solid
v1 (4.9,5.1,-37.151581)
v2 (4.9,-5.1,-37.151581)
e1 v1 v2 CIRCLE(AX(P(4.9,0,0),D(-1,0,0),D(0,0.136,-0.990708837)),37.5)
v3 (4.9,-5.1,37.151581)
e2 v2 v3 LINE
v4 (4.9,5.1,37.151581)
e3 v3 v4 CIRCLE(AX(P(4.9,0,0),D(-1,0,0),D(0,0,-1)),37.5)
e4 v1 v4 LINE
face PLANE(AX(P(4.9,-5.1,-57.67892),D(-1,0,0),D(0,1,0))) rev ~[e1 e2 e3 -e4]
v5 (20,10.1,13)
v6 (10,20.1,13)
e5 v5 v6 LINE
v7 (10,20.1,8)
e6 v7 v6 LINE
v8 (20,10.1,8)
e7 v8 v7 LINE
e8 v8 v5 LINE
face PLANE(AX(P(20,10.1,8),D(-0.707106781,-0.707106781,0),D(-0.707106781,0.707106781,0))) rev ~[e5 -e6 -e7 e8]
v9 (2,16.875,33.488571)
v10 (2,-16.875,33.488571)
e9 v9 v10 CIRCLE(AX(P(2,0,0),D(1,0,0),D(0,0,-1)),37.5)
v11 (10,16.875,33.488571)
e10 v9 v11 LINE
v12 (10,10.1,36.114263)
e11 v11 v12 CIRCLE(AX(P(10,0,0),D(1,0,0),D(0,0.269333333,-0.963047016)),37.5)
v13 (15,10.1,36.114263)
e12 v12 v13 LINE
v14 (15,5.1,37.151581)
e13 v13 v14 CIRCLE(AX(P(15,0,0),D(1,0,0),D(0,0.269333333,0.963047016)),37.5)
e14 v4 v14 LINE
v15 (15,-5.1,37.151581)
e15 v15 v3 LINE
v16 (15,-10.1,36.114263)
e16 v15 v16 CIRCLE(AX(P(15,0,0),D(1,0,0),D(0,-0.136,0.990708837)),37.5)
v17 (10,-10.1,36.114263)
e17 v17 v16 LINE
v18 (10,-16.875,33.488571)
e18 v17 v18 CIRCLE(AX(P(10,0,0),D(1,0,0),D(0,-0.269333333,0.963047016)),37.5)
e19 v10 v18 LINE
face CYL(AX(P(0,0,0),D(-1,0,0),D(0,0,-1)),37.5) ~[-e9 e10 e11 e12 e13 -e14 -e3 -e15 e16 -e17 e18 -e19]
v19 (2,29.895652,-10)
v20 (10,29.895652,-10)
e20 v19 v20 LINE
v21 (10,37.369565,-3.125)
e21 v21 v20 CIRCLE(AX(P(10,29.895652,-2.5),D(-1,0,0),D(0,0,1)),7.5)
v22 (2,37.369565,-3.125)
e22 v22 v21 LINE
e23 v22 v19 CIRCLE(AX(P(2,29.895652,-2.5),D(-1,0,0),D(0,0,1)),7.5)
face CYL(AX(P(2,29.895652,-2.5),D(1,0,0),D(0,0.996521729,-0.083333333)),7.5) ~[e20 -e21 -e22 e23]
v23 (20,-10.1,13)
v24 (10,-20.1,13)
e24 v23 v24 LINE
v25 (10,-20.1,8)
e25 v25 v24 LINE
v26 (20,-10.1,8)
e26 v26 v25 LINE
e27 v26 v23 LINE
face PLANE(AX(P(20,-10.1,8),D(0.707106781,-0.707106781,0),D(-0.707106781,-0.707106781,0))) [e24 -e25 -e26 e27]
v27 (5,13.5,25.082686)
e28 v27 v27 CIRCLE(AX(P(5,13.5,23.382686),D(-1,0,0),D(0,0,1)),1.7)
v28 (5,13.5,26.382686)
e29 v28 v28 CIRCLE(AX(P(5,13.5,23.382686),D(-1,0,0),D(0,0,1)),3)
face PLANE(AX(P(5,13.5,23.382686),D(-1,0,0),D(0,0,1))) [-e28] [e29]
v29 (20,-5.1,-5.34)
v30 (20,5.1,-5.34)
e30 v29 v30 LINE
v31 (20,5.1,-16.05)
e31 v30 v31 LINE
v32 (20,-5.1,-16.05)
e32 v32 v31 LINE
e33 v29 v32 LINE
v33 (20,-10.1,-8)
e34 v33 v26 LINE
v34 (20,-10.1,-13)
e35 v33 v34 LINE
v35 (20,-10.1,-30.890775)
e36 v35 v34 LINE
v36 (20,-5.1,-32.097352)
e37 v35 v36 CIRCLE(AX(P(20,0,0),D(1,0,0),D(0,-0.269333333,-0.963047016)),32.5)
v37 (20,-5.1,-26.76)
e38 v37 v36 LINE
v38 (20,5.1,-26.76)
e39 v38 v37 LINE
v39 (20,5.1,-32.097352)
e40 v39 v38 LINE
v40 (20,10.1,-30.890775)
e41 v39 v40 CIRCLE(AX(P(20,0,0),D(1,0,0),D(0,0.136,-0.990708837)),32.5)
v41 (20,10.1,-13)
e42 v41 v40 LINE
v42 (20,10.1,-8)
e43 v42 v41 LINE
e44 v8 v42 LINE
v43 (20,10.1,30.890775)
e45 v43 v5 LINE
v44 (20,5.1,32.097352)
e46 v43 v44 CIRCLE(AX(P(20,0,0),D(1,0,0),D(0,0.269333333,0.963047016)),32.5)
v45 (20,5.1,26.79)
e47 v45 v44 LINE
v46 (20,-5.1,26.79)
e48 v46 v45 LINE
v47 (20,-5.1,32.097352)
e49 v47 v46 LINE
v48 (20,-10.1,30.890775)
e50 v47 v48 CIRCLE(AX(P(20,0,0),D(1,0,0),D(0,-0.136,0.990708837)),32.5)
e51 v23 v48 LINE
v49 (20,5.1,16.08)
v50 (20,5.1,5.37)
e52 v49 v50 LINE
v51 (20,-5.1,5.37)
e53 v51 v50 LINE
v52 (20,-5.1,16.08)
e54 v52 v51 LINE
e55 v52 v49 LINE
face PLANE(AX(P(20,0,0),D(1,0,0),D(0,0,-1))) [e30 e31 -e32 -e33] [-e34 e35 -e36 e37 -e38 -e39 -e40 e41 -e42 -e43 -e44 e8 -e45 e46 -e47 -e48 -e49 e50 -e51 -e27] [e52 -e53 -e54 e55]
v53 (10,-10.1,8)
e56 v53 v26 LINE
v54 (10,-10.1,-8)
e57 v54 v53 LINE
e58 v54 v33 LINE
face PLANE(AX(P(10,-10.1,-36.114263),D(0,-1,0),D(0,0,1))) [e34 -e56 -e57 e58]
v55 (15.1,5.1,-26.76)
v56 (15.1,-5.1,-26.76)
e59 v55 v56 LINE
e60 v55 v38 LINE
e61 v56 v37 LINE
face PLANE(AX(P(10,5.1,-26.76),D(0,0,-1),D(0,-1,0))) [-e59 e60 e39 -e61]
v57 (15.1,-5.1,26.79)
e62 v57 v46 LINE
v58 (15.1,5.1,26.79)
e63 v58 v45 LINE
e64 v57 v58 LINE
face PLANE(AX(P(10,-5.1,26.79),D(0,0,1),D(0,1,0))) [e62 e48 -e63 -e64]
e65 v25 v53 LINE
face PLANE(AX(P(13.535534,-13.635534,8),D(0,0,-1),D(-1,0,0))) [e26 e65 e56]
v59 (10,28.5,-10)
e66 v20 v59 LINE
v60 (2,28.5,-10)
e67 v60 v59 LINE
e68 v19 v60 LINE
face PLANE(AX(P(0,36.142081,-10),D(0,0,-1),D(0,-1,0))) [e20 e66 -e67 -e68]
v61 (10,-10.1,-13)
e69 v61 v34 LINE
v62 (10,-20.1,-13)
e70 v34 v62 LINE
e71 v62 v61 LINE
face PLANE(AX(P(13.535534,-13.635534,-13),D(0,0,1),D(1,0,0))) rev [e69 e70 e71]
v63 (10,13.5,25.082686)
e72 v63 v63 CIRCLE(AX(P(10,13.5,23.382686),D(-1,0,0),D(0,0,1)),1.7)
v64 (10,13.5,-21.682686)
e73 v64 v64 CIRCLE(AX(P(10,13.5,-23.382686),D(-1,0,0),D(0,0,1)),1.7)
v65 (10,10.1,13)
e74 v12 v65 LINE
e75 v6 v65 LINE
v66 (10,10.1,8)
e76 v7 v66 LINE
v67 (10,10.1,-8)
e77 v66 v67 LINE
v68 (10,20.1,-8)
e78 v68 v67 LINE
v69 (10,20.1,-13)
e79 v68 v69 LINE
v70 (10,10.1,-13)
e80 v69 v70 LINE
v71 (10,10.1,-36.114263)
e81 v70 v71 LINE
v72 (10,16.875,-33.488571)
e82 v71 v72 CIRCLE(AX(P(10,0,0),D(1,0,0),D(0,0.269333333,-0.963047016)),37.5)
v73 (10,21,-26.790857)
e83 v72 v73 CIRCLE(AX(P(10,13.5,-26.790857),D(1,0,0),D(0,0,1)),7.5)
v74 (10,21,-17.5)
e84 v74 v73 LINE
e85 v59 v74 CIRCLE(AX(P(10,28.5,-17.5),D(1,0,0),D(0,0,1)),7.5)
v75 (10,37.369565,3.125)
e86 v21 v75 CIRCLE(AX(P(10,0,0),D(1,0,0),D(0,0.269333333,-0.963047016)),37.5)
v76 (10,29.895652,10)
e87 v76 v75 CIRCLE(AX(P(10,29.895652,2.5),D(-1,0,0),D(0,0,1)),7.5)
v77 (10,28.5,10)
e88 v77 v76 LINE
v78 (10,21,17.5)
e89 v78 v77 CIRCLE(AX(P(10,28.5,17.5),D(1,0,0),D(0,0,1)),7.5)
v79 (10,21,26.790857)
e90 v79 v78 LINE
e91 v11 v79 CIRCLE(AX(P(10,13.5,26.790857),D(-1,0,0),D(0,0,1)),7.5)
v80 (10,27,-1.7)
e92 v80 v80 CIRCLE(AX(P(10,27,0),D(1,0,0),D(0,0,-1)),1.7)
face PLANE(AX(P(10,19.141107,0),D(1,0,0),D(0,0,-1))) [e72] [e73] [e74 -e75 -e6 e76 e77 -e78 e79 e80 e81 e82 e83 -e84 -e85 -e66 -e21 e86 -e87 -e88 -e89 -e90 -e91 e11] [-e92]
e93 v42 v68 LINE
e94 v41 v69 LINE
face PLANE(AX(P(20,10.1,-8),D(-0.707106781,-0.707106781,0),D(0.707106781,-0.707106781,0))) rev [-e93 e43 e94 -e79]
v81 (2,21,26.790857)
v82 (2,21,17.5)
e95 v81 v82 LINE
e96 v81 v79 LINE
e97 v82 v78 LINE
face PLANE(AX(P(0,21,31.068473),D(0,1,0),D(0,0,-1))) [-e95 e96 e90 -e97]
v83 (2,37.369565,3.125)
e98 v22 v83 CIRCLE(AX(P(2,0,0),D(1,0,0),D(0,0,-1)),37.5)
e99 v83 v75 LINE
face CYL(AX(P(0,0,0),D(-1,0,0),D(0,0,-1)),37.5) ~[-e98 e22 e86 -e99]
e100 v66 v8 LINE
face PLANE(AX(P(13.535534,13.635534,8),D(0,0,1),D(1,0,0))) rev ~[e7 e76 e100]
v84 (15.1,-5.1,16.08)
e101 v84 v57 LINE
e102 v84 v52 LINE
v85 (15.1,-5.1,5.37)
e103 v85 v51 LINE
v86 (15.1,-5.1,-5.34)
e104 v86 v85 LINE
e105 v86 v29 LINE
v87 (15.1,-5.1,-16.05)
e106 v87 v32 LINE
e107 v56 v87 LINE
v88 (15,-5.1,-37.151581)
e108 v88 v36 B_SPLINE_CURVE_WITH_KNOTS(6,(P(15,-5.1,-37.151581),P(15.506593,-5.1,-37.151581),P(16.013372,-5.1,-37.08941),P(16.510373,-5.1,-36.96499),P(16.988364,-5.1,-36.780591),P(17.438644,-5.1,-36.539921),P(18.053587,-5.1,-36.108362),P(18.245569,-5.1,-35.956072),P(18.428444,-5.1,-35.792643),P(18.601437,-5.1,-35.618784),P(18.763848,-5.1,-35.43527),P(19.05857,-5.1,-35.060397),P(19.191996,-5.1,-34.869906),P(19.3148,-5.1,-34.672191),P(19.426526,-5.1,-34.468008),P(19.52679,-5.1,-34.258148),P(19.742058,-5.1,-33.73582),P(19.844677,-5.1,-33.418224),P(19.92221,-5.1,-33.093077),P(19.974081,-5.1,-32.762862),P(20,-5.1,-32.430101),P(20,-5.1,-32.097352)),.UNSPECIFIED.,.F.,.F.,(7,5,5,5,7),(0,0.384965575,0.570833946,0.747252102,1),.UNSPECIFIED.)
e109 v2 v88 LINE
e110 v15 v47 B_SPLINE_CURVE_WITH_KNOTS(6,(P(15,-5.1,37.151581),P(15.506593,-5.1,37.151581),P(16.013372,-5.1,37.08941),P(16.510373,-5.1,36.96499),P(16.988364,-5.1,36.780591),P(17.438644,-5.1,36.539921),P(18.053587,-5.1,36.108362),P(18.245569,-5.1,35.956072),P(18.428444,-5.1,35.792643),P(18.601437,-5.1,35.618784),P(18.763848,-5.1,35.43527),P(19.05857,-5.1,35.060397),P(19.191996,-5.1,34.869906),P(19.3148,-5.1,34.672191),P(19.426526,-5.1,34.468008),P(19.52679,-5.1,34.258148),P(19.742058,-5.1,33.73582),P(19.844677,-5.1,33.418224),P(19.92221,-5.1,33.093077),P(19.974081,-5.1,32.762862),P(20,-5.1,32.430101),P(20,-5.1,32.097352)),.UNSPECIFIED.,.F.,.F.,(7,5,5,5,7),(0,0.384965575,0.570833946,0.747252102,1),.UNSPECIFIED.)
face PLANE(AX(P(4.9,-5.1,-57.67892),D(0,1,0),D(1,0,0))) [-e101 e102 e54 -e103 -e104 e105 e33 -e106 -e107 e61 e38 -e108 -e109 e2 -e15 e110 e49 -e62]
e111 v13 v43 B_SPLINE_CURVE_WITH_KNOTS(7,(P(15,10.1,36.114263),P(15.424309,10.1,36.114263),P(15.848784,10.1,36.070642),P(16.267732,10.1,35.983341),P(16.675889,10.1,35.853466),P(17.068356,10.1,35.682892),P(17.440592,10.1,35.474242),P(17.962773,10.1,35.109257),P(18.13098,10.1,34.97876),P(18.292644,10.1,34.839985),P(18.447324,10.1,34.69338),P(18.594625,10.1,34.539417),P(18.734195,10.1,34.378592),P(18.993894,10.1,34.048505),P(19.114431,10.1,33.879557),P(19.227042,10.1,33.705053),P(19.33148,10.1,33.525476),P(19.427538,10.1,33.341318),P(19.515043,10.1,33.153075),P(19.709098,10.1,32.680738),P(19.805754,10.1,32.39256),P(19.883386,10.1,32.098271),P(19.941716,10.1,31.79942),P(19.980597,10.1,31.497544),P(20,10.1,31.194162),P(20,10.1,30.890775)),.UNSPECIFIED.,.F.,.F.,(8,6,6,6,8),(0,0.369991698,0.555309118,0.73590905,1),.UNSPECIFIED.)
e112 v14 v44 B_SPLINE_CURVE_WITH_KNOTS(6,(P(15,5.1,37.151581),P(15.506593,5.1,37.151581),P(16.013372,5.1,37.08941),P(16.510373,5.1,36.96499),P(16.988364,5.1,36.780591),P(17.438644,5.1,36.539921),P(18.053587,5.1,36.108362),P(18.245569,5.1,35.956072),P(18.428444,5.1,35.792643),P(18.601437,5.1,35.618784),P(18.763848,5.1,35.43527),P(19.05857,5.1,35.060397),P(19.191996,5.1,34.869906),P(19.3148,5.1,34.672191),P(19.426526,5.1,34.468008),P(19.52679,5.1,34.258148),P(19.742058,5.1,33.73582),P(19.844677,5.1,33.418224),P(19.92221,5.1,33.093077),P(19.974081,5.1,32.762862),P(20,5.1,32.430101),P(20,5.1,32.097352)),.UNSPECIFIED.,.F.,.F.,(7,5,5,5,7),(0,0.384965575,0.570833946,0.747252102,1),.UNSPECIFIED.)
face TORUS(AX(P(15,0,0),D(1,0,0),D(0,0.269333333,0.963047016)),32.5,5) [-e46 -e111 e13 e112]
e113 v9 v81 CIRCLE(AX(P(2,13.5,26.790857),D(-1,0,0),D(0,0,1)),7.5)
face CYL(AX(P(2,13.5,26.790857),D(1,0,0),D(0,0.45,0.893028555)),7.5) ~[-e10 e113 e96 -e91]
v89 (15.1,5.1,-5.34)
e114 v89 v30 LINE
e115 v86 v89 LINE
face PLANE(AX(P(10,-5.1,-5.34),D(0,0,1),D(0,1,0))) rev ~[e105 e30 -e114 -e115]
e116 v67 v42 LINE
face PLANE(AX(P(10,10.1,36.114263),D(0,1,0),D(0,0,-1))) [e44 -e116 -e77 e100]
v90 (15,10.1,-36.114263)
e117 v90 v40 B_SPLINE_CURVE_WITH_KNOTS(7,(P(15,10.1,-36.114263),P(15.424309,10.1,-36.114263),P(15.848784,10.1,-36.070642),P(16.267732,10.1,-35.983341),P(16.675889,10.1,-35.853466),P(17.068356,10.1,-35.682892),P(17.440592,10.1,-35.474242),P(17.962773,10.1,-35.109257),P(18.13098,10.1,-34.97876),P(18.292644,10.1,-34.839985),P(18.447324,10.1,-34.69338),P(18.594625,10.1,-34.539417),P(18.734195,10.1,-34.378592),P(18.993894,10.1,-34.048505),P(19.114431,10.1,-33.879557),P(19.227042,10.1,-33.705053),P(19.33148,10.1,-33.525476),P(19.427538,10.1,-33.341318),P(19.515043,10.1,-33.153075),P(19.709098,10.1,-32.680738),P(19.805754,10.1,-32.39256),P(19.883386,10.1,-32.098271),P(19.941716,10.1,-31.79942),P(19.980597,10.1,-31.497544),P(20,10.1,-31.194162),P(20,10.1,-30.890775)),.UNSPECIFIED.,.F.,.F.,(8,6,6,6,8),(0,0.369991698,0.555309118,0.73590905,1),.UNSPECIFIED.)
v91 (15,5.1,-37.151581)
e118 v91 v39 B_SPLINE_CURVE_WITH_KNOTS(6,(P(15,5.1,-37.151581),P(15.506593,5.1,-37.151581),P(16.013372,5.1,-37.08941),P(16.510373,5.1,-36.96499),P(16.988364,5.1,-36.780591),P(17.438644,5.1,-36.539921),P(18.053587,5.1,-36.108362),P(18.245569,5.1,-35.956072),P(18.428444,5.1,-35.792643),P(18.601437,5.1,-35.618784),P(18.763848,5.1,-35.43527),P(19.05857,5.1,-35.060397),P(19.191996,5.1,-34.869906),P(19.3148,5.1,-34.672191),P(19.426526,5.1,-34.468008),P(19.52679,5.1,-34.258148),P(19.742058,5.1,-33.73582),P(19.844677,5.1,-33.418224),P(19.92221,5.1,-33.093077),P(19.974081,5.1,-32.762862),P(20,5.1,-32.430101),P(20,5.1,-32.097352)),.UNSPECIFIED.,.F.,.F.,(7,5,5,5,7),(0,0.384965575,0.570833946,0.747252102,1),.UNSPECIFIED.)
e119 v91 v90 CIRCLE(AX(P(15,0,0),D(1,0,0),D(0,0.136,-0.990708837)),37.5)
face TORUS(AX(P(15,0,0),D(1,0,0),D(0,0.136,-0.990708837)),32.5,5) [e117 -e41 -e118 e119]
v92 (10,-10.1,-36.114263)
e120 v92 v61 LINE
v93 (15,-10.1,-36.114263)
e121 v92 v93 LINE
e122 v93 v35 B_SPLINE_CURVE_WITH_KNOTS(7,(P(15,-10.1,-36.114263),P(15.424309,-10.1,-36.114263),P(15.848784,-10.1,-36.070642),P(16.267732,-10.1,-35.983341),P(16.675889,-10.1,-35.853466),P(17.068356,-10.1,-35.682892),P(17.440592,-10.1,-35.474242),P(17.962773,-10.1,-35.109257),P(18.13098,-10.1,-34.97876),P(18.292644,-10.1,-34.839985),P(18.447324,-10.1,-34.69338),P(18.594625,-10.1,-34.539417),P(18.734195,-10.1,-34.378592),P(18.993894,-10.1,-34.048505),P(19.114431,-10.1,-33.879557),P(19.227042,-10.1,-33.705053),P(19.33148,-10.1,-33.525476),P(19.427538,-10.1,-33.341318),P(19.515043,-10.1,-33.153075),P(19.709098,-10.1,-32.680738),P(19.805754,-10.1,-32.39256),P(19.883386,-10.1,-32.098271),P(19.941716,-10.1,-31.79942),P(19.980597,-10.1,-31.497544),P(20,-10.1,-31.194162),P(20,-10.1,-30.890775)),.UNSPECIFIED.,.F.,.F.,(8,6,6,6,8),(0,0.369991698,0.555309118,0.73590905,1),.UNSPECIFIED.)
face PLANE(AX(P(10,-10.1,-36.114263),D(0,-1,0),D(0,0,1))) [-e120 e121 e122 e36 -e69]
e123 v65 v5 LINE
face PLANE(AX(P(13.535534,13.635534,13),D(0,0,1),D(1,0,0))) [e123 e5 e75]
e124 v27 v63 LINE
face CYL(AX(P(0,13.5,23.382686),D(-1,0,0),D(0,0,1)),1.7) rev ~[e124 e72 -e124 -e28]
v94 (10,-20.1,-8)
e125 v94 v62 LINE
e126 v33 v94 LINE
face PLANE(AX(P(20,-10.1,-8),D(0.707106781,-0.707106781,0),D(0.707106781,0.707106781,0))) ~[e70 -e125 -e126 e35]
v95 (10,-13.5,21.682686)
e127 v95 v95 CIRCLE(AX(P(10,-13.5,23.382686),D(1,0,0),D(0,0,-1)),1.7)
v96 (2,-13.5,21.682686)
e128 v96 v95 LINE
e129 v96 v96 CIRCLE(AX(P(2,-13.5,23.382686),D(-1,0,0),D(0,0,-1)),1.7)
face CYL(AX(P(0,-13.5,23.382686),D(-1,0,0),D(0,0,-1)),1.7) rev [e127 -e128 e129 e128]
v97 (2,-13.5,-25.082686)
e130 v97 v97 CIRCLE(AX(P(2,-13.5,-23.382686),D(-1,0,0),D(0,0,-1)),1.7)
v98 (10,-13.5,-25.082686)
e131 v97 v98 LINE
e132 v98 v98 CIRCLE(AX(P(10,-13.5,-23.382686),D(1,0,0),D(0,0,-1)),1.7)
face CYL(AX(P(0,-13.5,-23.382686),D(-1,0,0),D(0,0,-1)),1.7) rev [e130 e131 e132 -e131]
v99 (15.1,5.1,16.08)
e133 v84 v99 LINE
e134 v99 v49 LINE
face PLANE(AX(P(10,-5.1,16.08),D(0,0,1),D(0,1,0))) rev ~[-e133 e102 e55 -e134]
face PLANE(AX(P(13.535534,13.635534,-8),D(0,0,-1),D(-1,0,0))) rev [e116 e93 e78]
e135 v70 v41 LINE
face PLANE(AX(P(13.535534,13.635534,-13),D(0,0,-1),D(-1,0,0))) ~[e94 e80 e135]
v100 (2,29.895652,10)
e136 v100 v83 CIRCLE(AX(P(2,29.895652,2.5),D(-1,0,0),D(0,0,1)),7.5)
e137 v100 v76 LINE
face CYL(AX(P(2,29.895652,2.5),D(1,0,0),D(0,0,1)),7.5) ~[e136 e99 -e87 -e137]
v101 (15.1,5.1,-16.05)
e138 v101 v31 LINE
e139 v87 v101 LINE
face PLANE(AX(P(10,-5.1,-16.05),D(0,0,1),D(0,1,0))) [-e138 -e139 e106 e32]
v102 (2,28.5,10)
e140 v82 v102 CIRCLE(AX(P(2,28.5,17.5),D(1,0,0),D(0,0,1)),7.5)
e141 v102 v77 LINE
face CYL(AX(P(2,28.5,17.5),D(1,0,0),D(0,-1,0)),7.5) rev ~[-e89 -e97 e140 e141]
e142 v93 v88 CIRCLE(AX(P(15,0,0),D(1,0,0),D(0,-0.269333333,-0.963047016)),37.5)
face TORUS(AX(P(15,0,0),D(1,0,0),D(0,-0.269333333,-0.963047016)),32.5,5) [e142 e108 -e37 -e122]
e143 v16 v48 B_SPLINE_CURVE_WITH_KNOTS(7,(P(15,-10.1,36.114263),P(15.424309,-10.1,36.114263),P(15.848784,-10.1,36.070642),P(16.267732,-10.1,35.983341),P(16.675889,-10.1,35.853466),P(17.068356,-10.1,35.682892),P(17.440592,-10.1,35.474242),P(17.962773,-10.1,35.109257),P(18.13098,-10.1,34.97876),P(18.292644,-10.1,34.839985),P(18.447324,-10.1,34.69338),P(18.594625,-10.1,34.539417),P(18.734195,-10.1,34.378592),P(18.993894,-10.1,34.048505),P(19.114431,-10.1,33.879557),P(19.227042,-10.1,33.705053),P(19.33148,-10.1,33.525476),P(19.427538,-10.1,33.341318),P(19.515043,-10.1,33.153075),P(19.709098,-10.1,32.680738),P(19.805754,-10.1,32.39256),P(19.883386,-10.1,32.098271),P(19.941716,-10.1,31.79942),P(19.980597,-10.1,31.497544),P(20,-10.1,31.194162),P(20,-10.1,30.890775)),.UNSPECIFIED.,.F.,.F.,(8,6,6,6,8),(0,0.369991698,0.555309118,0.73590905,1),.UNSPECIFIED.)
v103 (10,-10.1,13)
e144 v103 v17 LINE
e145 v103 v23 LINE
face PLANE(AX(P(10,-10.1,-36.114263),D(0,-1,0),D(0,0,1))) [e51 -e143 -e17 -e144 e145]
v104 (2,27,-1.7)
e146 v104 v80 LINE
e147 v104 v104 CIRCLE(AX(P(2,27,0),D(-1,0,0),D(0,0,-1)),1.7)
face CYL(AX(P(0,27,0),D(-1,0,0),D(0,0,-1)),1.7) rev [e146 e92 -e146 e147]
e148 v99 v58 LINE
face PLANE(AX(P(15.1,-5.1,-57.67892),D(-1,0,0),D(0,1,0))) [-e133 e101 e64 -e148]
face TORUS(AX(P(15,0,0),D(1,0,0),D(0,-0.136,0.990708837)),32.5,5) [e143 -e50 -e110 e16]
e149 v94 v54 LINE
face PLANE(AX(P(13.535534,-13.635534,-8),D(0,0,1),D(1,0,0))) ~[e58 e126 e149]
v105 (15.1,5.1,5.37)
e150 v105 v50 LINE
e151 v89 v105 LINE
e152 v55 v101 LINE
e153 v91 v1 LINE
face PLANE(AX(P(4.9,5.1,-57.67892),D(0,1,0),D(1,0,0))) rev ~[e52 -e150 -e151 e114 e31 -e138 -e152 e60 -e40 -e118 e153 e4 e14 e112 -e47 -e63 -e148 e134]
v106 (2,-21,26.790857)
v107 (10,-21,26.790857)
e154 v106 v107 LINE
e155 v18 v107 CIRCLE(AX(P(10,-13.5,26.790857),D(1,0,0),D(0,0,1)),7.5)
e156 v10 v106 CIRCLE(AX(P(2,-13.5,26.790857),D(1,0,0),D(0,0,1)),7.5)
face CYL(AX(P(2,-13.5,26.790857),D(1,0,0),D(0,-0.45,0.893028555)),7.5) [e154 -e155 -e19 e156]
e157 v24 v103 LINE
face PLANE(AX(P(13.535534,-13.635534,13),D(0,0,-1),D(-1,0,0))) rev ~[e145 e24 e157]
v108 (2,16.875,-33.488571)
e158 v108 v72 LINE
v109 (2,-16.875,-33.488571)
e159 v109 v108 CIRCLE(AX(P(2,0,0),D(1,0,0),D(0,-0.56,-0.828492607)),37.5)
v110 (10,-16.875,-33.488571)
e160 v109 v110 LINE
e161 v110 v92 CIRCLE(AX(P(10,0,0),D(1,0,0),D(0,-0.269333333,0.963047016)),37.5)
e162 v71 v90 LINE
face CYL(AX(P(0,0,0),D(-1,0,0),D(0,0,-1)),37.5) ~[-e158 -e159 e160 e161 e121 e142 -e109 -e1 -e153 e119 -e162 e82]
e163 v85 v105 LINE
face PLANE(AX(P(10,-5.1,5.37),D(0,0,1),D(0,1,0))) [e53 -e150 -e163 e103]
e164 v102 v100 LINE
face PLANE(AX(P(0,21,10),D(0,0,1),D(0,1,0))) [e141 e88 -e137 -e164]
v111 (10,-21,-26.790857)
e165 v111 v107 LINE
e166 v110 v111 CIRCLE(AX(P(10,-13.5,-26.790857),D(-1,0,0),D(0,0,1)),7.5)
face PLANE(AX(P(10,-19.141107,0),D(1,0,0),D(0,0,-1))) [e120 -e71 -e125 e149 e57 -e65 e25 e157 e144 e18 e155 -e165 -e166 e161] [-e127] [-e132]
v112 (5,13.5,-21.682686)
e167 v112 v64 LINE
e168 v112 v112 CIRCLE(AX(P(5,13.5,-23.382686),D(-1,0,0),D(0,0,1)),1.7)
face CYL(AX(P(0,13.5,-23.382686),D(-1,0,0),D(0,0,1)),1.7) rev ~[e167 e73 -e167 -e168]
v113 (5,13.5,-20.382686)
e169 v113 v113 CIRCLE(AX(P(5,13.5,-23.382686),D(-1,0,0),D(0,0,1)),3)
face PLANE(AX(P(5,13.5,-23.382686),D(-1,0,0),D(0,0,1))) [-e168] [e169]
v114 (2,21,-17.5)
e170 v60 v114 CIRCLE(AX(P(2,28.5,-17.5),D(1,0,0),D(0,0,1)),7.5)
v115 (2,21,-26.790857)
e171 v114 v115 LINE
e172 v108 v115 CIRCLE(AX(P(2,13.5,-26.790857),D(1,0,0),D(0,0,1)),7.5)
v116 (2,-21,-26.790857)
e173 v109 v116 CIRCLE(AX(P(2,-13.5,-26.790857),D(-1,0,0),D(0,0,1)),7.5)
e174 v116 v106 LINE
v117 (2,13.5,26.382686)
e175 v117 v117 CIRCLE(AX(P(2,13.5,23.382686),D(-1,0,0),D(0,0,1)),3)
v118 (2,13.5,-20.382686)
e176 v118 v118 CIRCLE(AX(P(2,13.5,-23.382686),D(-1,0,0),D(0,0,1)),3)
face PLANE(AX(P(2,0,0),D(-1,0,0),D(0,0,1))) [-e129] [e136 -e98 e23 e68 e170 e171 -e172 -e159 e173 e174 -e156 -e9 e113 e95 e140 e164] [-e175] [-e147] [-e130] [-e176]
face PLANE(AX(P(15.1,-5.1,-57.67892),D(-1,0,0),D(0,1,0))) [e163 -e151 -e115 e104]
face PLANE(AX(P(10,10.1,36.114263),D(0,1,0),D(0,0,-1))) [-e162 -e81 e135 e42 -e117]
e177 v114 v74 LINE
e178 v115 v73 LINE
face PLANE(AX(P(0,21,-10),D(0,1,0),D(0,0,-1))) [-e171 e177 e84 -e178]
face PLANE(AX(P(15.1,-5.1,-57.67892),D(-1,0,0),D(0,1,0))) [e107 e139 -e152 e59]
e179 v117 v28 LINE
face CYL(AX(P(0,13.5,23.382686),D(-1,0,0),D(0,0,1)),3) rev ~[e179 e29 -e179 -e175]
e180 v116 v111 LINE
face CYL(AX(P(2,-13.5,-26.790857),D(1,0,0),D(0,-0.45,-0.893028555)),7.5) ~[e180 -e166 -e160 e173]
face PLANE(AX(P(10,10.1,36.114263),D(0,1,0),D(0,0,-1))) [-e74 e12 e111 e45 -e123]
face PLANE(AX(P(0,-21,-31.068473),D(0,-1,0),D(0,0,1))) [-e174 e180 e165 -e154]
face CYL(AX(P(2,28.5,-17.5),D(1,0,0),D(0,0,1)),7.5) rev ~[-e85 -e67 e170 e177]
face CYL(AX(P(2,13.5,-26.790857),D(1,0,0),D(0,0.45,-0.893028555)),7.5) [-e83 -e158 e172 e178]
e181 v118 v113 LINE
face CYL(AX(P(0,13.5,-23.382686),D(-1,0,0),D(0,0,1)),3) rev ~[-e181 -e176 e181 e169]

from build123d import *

# Parameters (mm, degrees)
SKETCH1_R               = 37.5
SKETCH1_R_2             = 1.7
BOSS_EXTRUDE1_DEPTH     = 20
CUT_EXTRUDE1_DEPTH      = 57.678920244
CUT_EXTRUDE1_DEPTH_BACK = 57.678920244
SKETCH2_W               = 10.2
SKETCH2_H               = 10.2
CUT_EXTRUDE2_START      = -10
SKETCH3_R               = 1.7
CUT_EXTRUDE2_DEPTH      = 10
CUT_EXTRUDE4_START      = -10
SKETCH4_W               = 10.71
SKETCH4_H               = 10.2
CUT_EXTRUDE4_DEPTH      = 10
BOSS_EXTRUDE2_START     = 8
BOSS_EXTRUDE2_DEPTH     = 5
SKETCH7_R               = 3
CUT_EXTRUDE5_DEPTH      = 5
SKETCH8_R               = 1.7
CUT_EXTRUDE6_DEPTH      = 15
FILLET1_R               = 5
SKETCH9_R               = 37.5
CUT_EXTRUDE7_DEPTH      = 2
CUT_EXTRUDE8_START      = -10
CUT_EXTRUDE8_DEPTH      = 10
FILLET3_R               = 7.5


with BuildPart() as part:
    # Sketch1 → Boss-Extrude1 (new body)
    with BuildSketch(Plane(origin=(0, 0, 0), x_dir=(0, 0, -1), z_dir=(1, 0, 0))):
        Circle(SKETCH1_R)
        with Locations((0, 27)):
            Circle(SKETCH1_R_2, mode=Mode.SUBTRACT)
        with Locations((23.382685902, -13.5)):
            Circle(SKETCH1_R_2, mode=Mode.SUBTRACT)
        with Locations((-23.382685902, -13.5)):
            Circle(SKETCH1_R_2, mode=Mode.SUBTRACT)
    extrude(amount=BOSS_EXTRUDE1_DEPTH)

    # Sketch2 → Cut-Extrude1 (cut, two sides: drawn at the far end of the back side and taken through both)
    with BuildSketch(Plane.XY.offset(-CUT_EXTRUDE1_DEPTH_BACK)):
        with Locations((10, 0)):
            Rectangle(SKETCH2_W, SKETCH2_H)
    extrude(amount=CUT_EXTRUDE1_DEPTH + CUT_EXTRUDE1_DEPTH_BACK, mode=Mode.SUBTRACT)

    # Sketch3 → Cut-Extrude2 (cut)
    # profile 1 of 2: a face of its own
    with BuildSketch(Plane(origin=(20, 0, 0), x_dir=(0, 0, -1), z_dir=(1, 0, 0)).offset(CUT_EXTRUDE2_START)):
        with BuildLine():
            Line((-36.11426311, 10.1), (36.11426311, 10.1))
            ThreePointArc((36.11426311, 10.1), (0, 37.5), (-36.11426311, 10.1))
        make_face()
        with Locations((0, 27)):
            Circle(SKETCH3_R, mode=Mode.SUBTRACT)
    # profile 2 of 2: a face of its own
    with BuildSketch(Plane(origin=(20, 0, 0), x_dir=(0, 0, -1), z_dir=(1, 0, 0)).offset(CUT_EXTRUDE2_START)):
        with BuildLine():
            ThreePointArc((-36.11426311, -10.1), (0, -37.5), (36.11426311, -10.1))
            Line((36.11426311, -10.1), (-36.11426311, -10.1))
        make_face()
        with Locations((-23.382685902, -13.5)):
            Circle(SKETCH3_R, mode=Mode.SUBTRACT)
        with Locations((23.382685902, -13.5)):
            Circle(SKETCH3_R, mode=Mode.SUBTRACT)
    extrude(amount=CUT_EXTRUDE2_DEPTH, mode=Mode.SUBTRACT)

    # Sketch4 → Cut-Extrude4 (cut)
    with BuildSketch(Plane(origin=(20, 0, 0), x_dir=(0, 0, -1), z_dir=(1, 0, 0)).offset(CUT_EXTRUDE4_START)):
        with BuildLine():
            Line((-26.79, -5.1), (-26.79, 5.1))
            Line((-26.79, 5.1), (-37.151581393, 5.1))
            ThreePointArc((-37.151581393, 5.1), (-37.5, 0), (-37.151581393, -5.1))
            Line((-37.151581393, -5.1), (-26.79, -5.1))
        make_face()
        with Locations((-10.725, 0)):
            Rectangle(SKETCH4_W, SKETCH4_H)
        with Locations((10.695, 0)):
            Rectangle(SKETCH4_W, SKETCH4_H)
        with BuildLine():
            Line((37.151581393, 5.1), (26.76, 5.1))
            Line((26.76, 5.1), (26.76, -5.1))
            Line((26.76, -5.1), (37.151581393, -5.1))
            ThreePointArc((37.151581393, -5.1), (37.5, 0), (37.151581393, 5.1))
        make_face()
    extrude(amount=CUT_EXTRUDE4_DEPTH, mode=Mode.SUBTRACT)

    # Sketch6 → Boss-Extrude2 (add)
    with BuildSketch(Plane.XY.offset(BOSS_EXTRUDE2_START)):
        Polygon((20, 10.1), (10, 20.1), (10, 10.1), align=None)
        Polygon((10, -20.1), (10, -10.1), (20, -10.1), align=None)
    boss_extrude2 = extrude(amount=BOSS_EXTRUDE2_DEPTH)

    # Mirror1: Boss-Extrude2 across plane
    add(boss_extrude2.mirror(Plane.XY))

    # Sketch7 → Cut-Extrude5 (cut)
    with BuildSketch(Plane.ZY):
        with Locations((23.382685902, 13.5)):
            Circle(SKETCH7_R)
        with Locations((0, -27)):
            Circle(SKETCH7_R)
        with Locations((-23.382685902, 13.5)):
            Circle(SKETCH7_R)
    extrude(amount=-CUT_EXTRUDE5_DEPTH, mode=Mode.SUBTRACT)

    # Sketch8 → Cut-Extrude6 (cut)
    with BuildSketch(Plane.ZY):
        with Locations((-23.382685902, 13.5)):
            Circle(SKETCH8_R)
        with Locations((23.382685902, 13.5)):
            Circle(SKETCH8_R)
        with Locations((0, -27)):
            Circle(SKETCH8_R)
    extrude(amount=-CUT_EXTRUDE6_DEPTH, mode=Mode.SUBTRACT)

    # Fillet1
    fillet1_edges = [part.edges().sort_by_distance(p)[0] for p in [
        (20, 7.617677291, 36.718128938),
        (20, -7.617677291, -36.718128938),
        (20, 7.617677291, -36.718128938),
        (20, -7.617677291, 36.718128938),
    ]]
    fillet(fillet1_edges, radius=FILLET1_R)

    # Sketch9 → Cut-Extrude7 (cut)
    with BuildSketch(Plane.ZY):
        Circle(SKETCH9_R)
    extrude(amount=-CUT_EXTRUDE7_DEPTH, mode=Mode.SUBTRACT)

    # Sketch10 → Cut-Extrude8 (cut)
    with BuildSketch(Plane(origin=(10, 0, 0), x_dir=(0, 0, -1), z_dir=(1, 0, 0)).offset(CUT_EXTRUDE8_START)):
        with BuildLine():
            ThreePointArc((-10, 36.142080737), (-21.885509272, 30.451181979), (-31.068472766, 21))
            Line((-31.068472766, 21), (-10, 21))
            Line((-10, 21), (-10, 36.142080737))
        make_face()
        with BuildLine():
            Line((10, 21), (31.068472766, 21))
            ThreePointArc((31.068472766, 21), (21.885509272, 30.451181979), (10, 36.142080737))
            Line((10, 36.142080737), (10, 21))
        make_face()
        with BuildLine():
            Line((31.068472766, -21), (-31.068472766, -21))
            ThreePointArc((-31.068472766, -21), (0, -37.5), (31.068472766, -21))
        make_face()
    extrude(amount=CUT_EXTRUDE8_DEPTH, mode=Mode.SUBTRACT)

    # Fillet3
    fillet3_edges = [part.edges().sort_by_distance(p)[0] for p in [
        (6, -21, 31.068472766),
        (6, -21, -31.068472766),
        (6, 36.142080737, -10),
        (6, 21, -31.068472766),
        (6, 21, -10),
        (6, 36.142080737, 10),
        (6, 21, 10),
        (6, 21, 31.068472766),
    ]]
    fillet(fillet3_edges, radius=FILLET3_R)


solid = part.part
